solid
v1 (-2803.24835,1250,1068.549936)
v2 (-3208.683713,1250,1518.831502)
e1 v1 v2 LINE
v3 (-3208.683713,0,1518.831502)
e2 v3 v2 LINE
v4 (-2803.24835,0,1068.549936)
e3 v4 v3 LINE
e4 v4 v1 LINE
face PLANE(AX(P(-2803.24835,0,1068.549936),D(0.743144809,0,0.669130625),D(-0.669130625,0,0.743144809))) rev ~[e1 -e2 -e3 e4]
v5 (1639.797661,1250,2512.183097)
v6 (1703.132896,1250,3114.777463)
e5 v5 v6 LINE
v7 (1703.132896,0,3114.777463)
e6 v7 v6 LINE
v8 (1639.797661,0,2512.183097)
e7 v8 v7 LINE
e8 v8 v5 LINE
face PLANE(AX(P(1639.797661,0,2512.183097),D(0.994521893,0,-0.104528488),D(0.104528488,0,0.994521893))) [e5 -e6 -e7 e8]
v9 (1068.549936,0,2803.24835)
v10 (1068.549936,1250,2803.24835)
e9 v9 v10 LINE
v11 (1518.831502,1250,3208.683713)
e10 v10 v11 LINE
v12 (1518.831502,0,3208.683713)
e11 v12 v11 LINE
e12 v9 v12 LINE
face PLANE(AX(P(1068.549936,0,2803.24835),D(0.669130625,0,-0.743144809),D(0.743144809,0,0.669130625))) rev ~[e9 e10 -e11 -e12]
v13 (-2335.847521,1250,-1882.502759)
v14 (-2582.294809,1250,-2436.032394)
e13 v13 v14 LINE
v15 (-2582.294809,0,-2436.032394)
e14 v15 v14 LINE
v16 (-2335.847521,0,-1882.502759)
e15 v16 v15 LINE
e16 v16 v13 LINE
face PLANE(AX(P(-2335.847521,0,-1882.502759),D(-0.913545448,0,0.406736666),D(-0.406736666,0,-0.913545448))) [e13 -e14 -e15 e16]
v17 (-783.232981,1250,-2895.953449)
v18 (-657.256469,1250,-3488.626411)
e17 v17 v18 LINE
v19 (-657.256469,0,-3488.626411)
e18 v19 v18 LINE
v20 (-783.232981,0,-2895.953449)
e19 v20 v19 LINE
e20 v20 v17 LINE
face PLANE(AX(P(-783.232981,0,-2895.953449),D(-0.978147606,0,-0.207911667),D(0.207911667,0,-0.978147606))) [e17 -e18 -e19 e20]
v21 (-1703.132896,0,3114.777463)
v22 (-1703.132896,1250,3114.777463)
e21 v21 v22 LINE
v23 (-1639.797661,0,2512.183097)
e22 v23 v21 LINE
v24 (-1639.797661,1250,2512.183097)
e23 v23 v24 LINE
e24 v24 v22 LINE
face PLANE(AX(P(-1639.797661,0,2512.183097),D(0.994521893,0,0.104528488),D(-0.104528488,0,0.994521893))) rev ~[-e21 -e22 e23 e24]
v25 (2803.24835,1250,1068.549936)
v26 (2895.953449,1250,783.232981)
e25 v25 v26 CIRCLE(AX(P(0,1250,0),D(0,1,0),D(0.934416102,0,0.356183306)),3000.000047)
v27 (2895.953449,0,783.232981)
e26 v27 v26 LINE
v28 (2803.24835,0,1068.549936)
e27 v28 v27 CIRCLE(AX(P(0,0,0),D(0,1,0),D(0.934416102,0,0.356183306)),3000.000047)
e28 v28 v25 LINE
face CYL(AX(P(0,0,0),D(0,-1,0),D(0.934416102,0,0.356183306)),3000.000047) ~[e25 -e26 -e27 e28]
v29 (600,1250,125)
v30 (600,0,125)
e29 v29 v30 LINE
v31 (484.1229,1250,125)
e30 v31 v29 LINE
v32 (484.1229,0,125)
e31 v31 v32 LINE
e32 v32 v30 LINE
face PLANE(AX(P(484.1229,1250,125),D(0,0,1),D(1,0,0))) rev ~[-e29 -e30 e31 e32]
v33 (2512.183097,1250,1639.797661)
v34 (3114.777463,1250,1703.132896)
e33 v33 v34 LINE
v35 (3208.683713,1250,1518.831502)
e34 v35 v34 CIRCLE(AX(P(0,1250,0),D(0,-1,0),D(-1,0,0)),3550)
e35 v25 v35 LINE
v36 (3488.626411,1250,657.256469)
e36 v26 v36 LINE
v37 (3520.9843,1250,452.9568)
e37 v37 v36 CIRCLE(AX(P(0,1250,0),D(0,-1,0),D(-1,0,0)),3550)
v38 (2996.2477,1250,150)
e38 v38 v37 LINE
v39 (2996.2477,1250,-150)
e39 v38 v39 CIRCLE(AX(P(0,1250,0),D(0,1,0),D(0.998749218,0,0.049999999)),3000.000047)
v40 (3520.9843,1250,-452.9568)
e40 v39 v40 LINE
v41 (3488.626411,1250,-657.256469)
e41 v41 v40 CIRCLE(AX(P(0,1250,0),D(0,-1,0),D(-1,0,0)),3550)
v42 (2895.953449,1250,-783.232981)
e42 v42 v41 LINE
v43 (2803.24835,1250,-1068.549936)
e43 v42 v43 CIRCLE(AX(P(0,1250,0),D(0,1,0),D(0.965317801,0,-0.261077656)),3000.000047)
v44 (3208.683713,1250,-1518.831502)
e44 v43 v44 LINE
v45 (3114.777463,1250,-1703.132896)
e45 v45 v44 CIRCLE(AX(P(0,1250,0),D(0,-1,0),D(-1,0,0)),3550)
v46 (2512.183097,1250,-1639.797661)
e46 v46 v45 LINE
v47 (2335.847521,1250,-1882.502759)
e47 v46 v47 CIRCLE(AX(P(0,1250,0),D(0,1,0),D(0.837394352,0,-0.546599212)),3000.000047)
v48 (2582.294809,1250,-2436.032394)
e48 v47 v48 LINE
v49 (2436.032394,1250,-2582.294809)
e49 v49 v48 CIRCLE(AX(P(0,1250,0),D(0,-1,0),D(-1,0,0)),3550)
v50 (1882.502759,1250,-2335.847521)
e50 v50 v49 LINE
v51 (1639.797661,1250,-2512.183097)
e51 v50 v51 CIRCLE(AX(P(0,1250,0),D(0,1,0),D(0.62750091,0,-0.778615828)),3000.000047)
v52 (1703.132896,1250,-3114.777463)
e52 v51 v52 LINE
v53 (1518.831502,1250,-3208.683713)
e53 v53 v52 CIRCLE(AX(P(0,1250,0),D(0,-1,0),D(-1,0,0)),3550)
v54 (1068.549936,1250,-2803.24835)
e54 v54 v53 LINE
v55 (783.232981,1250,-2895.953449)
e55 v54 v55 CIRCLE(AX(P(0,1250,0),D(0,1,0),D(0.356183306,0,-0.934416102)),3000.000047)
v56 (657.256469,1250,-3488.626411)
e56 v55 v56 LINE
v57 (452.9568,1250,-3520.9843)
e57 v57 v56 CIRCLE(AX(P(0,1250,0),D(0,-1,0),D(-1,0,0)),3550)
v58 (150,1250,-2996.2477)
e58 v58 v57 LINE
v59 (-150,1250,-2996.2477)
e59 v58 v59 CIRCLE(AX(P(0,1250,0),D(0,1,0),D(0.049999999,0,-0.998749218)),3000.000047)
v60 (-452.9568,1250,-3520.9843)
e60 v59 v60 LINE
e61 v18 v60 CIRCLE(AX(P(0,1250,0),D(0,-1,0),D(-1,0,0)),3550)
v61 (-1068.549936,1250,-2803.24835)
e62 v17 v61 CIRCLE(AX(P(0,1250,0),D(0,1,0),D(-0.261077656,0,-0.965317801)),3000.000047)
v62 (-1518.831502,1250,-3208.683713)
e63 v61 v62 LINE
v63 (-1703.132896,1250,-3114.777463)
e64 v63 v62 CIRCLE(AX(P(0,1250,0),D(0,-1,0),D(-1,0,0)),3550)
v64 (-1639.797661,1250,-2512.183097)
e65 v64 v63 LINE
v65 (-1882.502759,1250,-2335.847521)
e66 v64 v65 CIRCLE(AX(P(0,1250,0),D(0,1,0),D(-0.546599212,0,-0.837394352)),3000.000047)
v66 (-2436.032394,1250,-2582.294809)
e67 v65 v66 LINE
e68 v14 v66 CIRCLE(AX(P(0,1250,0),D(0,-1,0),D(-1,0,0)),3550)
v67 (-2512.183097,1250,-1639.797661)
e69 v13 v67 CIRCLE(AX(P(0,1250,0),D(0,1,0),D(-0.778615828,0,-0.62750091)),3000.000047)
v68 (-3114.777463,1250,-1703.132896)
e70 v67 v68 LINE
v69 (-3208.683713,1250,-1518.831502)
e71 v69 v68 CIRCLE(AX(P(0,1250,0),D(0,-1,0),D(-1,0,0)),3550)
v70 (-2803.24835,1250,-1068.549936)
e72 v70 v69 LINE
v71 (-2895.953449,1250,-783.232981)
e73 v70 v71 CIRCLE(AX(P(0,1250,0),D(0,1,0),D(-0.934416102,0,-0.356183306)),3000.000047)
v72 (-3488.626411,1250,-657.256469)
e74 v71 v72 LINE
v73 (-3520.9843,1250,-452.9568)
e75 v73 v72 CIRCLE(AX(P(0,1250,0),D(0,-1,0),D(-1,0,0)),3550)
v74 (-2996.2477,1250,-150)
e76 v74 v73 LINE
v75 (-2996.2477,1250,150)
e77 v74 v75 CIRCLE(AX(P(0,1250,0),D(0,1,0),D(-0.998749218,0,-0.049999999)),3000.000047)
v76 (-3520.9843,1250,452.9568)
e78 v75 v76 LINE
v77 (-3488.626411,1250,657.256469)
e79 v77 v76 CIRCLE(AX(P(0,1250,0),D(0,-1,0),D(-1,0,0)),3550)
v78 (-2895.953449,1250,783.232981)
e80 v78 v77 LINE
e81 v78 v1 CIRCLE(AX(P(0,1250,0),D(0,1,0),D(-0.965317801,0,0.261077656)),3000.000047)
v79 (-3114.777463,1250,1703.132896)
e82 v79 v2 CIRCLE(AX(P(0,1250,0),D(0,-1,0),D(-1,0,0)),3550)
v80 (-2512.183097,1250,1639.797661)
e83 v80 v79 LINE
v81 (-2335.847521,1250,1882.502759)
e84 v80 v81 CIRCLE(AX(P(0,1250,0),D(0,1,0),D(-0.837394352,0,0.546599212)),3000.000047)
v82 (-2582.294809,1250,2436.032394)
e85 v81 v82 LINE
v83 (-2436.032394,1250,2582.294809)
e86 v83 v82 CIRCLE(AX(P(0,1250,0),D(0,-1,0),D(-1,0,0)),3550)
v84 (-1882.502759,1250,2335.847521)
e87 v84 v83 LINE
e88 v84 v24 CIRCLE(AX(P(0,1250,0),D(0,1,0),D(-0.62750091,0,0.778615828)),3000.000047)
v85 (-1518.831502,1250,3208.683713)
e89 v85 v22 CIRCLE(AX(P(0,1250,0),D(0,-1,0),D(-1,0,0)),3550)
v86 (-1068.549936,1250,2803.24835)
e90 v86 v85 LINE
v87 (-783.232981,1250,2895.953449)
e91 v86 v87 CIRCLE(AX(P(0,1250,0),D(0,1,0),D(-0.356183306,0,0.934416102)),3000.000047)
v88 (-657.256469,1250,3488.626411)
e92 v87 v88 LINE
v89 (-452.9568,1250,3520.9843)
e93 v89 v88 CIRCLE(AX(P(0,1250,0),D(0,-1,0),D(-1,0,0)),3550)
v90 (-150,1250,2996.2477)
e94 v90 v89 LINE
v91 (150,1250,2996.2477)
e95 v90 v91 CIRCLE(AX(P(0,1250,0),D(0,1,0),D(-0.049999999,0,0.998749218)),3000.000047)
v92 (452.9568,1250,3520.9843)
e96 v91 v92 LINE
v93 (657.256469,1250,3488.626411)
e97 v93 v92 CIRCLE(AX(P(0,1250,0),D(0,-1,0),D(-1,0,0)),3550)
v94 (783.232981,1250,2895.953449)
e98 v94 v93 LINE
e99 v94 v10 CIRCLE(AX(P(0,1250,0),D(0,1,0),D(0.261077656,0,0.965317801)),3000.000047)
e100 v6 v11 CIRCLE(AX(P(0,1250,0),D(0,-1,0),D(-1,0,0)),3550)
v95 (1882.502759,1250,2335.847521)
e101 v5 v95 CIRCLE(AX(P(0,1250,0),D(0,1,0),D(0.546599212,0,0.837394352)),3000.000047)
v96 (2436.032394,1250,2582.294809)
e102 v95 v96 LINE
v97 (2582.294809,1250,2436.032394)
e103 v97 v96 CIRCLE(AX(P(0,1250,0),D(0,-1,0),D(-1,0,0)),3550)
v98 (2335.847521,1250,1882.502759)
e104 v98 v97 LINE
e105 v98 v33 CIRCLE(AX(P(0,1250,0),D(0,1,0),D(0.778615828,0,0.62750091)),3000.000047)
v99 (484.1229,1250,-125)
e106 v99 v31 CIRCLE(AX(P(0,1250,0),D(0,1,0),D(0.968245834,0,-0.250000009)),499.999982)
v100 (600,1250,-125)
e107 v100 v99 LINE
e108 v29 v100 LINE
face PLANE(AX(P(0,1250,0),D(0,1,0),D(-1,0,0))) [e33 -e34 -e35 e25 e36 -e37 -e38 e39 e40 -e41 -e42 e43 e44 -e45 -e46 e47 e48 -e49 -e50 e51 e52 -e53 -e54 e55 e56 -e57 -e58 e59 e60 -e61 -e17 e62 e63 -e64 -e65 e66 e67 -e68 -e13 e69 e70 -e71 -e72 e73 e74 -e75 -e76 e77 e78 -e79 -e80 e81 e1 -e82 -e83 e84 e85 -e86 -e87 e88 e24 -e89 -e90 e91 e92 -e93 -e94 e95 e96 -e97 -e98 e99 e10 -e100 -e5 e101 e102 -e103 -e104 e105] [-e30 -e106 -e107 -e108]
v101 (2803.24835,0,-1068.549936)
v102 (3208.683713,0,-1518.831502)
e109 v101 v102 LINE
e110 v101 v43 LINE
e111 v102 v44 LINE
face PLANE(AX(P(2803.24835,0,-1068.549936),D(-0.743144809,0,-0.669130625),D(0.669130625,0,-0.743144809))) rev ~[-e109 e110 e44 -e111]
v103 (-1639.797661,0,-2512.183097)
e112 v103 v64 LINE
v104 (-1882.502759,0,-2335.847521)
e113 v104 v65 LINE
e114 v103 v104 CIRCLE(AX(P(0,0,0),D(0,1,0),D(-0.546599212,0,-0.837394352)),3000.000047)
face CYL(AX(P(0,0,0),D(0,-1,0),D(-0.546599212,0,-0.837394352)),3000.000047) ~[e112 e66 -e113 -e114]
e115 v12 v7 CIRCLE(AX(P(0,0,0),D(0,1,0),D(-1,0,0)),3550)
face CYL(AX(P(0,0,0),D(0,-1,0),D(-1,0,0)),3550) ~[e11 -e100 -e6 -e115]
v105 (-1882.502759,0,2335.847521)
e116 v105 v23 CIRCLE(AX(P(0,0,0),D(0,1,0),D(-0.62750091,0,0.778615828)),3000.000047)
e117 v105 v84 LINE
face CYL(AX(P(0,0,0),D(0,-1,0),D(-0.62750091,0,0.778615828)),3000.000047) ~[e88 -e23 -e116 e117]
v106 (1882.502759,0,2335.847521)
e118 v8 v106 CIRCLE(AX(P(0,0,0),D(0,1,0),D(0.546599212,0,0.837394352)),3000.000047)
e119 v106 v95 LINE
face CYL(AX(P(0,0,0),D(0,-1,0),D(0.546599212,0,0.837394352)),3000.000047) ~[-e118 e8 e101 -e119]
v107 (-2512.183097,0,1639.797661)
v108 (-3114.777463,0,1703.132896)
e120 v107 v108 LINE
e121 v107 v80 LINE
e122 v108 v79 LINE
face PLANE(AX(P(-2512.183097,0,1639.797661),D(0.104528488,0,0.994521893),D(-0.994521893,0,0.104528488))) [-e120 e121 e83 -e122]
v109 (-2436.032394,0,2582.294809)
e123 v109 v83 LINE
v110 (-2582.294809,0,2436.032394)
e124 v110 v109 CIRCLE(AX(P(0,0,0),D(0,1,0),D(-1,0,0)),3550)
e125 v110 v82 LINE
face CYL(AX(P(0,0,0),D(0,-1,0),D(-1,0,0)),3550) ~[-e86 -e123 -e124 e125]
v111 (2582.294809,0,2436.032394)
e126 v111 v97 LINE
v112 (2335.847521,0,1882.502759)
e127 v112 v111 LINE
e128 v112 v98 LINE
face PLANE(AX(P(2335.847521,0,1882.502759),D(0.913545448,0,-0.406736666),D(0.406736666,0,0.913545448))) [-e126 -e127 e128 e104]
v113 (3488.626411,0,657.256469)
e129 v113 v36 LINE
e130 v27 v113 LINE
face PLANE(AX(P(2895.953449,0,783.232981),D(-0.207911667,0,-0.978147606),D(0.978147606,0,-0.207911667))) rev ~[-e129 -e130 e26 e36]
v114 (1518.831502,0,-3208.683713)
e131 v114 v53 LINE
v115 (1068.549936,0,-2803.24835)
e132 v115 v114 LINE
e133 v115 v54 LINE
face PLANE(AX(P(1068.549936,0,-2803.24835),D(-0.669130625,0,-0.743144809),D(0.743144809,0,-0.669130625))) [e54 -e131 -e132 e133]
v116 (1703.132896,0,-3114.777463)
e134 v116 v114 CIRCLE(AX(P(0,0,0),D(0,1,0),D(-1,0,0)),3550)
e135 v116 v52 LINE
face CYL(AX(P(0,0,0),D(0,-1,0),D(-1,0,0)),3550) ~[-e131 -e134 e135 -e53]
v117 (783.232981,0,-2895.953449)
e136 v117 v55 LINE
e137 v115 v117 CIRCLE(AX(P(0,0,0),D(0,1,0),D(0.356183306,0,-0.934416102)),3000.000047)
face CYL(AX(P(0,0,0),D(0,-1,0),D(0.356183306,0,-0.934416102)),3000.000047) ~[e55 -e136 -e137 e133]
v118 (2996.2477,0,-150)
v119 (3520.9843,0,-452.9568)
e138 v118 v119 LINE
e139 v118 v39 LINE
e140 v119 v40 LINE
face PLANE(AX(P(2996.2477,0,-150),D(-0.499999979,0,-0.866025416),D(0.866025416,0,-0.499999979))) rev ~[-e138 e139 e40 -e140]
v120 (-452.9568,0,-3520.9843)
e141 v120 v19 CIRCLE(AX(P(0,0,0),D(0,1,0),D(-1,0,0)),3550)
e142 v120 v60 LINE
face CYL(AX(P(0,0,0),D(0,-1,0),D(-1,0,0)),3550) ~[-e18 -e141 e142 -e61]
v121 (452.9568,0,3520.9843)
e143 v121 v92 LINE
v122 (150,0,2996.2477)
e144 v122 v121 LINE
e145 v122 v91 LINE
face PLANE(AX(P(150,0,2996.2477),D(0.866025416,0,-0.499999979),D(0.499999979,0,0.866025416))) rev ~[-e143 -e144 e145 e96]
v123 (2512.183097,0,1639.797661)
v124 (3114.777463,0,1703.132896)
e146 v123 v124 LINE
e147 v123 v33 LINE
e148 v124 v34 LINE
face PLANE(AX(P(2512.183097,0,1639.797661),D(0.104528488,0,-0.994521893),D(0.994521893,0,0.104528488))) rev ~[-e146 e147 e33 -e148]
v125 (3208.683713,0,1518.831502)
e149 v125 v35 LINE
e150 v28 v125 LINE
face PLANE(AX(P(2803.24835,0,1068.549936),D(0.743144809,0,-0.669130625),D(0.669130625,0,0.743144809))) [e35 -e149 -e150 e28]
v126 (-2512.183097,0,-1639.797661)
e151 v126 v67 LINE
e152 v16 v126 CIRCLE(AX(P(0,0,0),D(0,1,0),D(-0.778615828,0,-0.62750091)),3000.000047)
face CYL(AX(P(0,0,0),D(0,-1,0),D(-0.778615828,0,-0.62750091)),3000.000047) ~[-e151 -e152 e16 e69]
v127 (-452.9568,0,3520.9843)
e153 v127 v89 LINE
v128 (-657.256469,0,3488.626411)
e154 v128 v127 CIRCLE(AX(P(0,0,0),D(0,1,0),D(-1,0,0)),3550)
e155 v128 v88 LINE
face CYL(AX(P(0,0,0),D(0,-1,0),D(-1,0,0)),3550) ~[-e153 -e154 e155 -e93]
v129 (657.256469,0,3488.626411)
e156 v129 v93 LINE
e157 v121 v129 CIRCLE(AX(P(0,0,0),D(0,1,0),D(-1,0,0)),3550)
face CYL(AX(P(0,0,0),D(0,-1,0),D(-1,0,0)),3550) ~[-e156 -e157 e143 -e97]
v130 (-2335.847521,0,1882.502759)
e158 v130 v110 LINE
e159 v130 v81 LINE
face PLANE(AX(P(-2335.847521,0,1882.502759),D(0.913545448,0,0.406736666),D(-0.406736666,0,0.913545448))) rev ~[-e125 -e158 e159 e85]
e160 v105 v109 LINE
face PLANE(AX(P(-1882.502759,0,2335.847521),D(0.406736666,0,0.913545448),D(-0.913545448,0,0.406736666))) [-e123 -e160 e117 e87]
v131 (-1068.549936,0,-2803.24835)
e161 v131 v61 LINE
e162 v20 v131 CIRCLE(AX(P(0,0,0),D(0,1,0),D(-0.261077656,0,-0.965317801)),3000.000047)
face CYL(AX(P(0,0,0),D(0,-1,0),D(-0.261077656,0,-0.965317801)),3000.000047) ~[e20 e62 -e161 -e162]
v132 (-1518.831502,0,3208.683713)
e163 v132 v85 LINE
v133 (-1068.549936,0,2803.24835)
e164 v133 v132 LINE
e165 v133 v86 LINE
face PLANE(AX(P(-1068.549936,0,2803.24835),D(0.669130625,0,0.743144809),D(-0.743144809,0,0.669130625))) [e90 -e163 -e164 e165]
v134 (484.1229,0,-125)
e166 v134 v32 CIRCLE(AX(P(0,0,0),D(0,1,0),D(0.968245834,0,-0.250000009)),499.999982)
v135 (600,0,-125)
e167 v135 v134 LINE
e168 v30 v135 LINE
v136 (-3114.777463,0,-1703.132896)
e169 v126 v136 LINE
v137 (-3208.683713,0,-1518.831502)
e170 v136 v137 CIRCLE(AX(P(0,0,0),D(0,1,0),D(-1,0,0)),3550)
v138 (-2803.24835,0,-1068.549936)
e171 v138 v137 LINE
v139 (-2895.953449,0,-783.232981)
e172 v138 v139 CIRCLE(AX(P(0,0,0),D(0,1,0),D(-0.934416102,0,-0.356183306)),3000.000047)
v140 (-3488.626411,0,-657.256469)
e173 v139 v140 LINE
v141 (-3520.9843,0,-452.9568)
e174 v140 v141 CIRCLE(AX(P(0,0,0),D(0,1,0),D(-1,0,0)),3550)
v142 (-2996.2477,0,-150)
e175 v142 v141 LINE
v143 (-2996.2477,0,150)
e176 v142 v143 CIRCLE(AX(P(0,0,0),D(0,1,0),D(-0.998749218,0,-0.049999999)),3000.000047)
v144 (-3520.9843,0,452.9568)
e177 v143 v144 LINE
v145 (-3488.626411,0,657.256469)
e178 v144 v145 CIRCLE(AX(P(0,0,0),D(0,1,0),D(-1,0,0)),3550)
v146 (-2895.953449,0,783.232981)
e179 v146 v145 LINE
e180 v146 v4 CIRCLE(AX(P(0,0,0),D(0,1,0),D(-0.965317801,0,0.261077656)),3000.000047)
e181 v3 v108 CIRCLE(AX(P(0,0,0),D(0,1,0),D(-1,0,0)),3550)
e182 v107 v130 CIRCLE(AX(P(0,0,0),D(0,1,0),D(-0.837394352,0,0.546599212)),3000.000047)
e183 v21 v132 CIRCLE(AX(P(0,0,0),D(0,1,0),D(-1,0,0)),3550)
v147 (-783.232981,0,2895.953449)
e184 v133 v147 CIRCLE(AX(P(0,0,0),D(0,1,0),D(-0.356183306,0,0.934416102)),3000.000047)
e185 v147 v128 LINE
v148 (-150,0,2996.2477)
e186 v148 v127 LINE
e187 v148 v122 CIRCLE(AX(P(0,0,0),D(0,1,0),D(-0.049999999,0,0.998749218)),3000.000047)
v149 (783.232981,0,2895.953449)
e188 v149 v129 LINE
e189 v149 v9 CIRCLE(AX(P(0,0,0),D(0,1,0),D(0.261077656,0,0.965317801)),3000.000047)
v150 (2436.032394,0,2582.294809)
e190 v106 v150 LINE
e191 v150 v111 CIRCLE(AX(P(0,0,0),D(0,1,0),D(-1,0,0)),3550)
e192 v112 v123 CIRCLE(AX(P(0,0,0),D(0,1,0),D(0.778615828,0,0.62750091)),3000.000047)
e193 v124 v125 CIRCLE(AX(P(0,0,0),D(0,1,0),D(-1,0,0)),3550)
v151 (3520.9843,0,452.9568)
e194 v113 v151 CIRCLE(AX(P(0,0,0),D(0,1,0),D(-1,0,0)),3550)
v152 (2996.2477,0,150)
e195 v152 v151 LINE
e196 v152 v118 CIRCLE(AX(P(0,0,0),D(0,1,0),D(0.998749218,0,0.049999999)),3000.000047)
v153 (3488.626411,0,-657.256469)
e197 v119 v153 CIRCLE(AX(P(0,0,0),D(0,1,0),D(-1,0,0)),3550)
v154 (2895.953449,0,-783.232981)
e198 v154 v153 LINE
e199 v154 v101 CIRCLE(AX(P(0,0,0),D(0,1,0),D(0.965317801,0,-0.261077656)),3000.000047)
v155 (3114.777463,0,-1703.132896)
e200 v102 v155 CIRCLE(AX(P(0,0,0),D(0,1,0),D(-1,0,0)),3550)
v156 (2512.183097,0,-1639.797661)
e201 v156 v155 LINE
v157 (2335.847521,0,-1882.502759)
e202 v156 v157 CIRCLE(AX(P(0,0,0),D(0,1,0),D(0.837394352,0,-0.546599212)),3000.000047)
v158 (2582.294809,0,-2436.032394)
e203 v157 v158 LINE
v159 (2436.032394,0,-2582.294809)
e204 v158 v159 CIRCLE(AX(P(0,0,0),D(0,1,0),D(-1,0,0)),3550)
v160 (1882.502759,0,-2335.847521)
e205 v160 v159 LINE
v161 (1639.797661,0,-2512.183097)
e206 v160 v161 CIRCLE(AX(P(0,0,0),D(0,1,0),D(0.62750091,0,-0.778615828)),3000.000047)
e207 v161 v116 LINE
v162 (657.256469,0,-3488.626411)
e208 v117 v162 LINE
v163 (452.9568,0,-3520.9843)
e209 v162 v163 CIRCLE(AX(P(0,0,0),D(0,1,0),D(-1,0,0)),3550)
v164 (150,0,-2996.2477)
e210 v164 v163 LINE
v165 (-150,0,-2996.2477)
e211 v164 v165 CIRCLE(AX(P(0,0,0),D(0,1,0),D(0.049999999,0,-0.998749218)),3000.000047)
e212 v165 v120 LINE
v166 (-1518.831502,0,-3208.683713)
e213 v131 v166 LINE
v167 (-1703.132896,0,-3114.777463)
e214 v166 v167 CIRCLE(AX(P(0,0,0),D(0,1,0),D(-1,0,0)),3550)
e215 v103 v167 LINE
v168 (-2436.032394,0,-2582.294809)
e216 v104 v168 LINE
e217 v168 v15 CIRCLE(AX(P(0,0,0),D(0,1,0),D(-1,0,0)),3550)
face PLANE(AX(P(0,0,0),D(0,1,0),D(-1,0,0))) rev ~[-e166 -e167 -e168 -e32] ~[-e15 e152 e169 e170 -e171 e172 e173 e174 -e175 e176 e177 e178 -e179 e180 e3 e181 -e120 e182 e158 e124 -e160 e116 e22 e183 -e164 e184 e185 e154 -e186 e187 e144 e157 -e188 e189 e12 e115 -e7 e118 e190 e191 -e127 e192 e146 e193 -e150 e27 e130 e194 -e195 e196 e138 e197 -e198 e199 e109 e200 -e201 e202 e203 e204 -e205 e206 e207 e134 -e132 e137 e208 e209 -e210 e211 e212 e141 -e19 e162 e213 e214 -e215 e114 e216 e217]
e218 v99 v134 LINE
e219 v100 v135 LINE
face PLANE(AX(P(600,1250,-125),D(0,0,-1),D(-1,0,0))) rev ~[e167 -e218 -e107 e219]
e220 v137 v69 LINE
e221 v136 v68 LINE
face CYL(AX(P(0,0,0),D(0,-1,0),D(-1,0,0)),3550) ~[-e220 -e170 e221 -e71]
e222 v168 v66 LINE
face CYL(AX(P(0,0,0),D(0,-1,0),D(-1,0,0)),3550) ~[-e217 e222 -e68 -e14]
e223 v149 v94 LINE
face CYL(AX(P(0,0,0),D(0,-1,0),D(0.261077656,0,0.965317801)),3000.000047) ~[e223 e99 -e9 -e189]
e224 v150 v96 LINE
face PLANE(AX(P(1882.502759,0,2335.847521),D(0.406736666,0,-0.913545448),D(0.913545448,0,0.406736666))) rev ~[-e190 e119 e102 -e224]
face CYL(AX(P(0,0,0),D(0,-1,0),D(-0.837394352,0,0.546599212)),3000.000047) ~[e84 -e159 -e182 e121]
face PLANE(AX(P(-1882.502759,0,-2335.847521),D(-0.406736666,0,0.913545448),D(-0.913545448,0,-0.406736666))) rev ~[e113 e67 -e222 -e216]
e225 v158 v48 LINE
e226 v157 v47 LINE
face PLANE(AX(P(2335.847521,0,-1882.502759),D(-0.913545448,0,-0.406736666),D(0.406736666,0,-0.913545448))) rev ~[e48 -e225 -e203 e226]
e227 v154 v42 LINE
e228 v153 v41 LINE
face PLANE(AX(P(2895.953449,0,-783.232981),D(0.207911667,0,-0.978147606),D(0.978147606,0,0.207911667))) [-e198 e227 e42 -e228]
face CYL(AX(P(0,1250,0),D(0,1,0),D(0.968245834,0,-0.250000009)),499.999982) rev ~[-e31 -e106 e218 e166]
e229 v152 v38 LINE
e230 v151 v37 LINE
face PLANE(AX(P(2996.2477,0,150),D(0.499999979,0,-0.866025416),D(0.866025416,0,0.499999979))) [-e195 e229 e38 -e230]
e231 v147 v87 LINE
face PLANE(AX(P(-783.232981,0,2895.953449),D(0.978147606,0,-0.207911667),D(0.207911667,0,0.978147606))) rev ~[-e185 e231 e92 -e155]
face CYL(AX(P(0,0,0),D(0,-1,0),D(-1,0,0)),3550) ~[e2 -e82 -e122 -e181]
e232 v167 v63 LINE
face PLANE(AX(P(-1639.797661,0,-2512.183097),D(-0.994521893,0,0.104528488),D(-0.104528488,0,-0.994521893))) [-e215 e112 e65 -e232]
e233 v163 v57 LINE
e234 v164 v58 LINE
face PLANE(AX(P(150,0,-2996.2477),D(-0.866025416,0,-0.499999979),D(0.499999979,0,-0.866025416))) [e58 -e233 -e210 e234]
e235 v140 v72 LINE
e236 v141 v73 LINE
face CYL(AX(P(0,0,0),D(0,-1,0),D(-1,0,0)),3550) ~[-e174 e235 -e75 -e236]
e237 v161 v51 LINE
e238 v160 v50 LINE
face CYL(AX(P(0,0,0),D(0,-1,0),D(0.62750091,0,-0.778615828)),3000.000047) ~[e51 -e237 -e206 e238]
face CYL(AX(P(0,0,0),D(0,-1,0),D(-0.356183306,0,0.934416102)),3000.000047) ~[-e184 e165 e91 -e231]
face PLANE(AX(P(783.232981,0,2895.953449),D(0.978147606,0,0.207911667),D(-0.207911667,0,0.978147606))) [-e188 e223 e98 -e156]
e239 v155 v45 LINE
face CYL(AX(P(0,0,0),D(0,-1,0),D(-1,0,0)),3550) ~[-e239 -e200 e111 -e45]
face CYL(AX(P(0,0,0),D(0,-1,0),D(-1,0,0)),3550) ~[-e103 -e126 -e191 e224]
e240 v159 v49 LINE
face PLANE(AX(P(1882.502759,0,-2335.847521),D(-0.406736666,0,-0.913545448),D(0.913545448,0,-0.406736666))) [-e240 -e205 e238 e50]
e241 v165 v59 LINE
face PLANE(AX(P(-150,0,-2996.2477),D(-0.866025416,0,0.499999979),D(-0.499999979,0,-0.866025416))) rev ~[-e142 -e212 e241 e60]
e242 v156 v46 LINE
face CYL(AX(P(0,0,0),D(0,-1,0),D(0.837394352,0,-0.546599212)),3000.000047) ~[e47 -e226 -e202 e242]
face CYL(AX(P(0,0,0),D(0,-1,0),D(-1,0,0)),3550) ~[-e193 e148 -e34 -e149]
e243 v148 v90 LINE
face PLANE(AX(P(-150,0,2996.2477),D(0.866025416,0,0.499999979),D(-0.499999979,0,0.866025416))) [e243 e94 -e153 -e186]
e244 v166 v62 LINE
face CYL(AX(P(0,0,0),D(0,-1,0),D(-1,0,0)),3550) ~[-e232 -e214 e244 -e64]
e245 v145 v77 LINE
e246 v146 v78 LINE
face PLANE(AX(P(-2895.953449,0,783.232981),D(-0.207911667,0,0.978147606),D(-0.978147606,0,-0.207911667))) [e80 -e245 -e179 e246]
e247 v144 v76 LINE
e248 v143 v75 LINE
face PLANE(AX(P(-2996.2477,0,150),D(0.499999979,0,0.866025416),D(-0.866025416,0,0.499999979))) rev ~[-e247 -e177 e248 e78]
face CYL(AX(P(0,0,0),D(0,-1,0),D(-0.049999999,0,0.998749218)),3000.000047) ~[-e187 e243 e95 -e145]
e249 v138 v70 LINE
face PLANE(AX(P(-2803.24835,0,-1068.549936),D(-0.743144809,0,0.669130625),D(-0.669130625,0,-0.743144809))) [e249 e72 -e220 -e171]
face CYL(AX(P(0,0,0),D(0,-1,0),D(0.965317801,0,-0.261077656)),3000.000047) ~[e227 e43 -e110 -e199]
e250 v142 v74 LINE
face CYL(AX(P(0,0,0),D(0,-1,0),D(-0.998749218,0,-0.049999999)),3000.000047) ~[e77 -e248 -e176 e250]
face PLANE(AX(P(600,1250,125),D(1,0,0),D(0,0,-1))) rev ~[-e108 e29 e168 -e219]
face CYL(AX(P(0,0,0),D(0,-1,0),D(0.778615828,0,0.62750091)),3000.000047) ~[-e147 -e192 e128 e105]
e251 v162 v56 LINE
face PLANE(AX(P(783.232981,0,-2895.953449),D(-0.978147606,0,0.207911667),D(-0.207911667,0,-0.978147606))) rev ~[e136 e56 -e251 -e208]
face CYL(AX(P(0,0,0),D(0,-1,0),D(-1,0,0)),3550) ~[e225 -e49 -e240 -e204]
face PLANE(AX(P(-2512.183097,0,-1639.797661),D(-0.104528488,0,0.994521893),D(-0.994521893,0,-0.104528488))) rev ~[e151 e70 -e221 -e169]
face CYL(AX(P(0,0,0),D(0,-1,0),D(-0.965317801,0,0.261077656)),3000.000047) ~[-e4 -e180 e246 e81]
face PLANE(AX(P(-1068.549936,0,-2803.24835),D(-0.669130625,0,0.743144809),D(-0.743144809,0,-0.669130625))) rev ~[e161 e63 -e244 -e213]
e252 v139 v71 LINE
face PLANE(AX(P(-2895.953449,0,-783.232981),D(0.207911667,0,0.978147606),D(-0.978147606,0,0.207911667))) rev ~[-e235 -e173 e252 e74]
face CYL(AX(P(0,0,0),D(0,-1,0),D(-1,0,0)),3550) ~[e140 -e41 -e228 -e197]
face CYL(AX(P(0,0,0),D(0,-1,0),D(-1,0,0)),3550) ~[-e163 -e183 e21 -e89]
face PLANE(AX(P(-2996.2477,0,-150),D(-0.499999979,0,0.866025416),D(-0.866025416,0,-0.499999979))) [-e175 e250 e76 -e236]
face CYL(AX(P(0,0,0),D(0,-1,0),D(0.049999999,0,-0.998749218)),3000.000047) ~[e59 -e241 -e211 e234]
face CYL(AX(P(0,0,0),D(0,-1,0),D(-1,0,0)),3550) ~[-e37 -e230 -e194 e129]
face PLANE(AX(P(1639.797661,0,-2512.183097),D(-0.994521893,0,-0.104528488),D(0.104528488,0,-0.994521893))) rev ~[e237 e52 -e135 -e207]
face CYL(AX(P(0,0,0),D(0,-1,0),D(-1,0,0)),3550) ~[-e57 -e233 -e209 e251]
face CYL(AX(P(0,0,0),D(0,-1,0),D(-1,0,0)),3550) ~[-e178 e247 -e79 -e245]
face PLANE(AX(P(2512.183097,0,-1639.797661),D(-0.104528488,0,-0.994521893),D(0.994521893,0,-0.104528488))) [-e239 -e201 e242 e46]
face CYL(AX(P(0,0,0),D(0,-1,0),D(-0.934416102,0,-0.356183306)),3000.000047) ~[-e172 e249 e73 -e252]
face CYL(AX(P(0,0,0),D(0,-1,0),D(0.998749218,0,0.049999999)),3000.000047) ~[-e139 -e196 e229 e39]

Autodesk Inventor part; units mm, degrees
ref_plane "YZ Plane" through (0, 0, 0) normal (1, 0, 0) x (0, 1, 0)
ref_plane "XZ Plane" through (0, 0, 0) normal (0, 1, 0) x (-1, 0, 0)
ref_plane "XY Plane" through (0, 0, 0) normal (0, 0, 1) x (1, 0, 0)
sketch "Sketch1" plane through (0, 0, 0) normal (0, 1, 0) x (-1, 0, 0)
  circle A0 centre (0, 0) radius 3550
  line L0 (0, 0) -> (0, -150)
  line L1 (0, 150) -> (0, -150)
  line L2 (4243.0122, 0) -> (4511.7157, 0) construction
  line L3 (0, 0) -> (0, 150)
  arc A1 (2996.2477, -150) -> (2996.2477, 150) centre (0, 0) ccw
  line L4 (2996.2477, -150) -> (3520.9843, -452.9568)
  line L5 (2996.2477, 150) -> (3520.9843, 452.9568)
  point P0 (3536.4628, -309.7269)
  point P1 (3536.4628, 309.7269)
  dimension "d1" = 150
  dimension "d20" = 150
ref_plane "Work Plane1" through (0, 625, 0) normal (0, 1, 0) x (1, 0, 0)
extrude "Extrusion4" add sketch "Sketch1" along normal blind 1250
extrude "Extrusion5" cut sketch "Sketch1" along normal blind 1250 contours A0 L4 A1 L5 picked at (3349.0246, 326.912)
pattern_circular "Circular Pattern2" count 20 over 360 about axis through (0, -10, 0) along (0, 1, 0) of "Extrusion5"
sketch "Sketch3" plane through (0, 1250, 0) normal (0, 1, 0) x (1, 0, 0)
  arc A0 (484.1229, 125) -> (484.1229, -125) centre (0, 0) ccw
  line L0 (484.1229, -125) -> (600, -125)
  line L1 (600, -125) -> (600, 125)
  line L2 (600, 125) -> (484.1229, 125)
extrude "Extrusion7" cut sketch "Sketch3" against normal blind 1250
